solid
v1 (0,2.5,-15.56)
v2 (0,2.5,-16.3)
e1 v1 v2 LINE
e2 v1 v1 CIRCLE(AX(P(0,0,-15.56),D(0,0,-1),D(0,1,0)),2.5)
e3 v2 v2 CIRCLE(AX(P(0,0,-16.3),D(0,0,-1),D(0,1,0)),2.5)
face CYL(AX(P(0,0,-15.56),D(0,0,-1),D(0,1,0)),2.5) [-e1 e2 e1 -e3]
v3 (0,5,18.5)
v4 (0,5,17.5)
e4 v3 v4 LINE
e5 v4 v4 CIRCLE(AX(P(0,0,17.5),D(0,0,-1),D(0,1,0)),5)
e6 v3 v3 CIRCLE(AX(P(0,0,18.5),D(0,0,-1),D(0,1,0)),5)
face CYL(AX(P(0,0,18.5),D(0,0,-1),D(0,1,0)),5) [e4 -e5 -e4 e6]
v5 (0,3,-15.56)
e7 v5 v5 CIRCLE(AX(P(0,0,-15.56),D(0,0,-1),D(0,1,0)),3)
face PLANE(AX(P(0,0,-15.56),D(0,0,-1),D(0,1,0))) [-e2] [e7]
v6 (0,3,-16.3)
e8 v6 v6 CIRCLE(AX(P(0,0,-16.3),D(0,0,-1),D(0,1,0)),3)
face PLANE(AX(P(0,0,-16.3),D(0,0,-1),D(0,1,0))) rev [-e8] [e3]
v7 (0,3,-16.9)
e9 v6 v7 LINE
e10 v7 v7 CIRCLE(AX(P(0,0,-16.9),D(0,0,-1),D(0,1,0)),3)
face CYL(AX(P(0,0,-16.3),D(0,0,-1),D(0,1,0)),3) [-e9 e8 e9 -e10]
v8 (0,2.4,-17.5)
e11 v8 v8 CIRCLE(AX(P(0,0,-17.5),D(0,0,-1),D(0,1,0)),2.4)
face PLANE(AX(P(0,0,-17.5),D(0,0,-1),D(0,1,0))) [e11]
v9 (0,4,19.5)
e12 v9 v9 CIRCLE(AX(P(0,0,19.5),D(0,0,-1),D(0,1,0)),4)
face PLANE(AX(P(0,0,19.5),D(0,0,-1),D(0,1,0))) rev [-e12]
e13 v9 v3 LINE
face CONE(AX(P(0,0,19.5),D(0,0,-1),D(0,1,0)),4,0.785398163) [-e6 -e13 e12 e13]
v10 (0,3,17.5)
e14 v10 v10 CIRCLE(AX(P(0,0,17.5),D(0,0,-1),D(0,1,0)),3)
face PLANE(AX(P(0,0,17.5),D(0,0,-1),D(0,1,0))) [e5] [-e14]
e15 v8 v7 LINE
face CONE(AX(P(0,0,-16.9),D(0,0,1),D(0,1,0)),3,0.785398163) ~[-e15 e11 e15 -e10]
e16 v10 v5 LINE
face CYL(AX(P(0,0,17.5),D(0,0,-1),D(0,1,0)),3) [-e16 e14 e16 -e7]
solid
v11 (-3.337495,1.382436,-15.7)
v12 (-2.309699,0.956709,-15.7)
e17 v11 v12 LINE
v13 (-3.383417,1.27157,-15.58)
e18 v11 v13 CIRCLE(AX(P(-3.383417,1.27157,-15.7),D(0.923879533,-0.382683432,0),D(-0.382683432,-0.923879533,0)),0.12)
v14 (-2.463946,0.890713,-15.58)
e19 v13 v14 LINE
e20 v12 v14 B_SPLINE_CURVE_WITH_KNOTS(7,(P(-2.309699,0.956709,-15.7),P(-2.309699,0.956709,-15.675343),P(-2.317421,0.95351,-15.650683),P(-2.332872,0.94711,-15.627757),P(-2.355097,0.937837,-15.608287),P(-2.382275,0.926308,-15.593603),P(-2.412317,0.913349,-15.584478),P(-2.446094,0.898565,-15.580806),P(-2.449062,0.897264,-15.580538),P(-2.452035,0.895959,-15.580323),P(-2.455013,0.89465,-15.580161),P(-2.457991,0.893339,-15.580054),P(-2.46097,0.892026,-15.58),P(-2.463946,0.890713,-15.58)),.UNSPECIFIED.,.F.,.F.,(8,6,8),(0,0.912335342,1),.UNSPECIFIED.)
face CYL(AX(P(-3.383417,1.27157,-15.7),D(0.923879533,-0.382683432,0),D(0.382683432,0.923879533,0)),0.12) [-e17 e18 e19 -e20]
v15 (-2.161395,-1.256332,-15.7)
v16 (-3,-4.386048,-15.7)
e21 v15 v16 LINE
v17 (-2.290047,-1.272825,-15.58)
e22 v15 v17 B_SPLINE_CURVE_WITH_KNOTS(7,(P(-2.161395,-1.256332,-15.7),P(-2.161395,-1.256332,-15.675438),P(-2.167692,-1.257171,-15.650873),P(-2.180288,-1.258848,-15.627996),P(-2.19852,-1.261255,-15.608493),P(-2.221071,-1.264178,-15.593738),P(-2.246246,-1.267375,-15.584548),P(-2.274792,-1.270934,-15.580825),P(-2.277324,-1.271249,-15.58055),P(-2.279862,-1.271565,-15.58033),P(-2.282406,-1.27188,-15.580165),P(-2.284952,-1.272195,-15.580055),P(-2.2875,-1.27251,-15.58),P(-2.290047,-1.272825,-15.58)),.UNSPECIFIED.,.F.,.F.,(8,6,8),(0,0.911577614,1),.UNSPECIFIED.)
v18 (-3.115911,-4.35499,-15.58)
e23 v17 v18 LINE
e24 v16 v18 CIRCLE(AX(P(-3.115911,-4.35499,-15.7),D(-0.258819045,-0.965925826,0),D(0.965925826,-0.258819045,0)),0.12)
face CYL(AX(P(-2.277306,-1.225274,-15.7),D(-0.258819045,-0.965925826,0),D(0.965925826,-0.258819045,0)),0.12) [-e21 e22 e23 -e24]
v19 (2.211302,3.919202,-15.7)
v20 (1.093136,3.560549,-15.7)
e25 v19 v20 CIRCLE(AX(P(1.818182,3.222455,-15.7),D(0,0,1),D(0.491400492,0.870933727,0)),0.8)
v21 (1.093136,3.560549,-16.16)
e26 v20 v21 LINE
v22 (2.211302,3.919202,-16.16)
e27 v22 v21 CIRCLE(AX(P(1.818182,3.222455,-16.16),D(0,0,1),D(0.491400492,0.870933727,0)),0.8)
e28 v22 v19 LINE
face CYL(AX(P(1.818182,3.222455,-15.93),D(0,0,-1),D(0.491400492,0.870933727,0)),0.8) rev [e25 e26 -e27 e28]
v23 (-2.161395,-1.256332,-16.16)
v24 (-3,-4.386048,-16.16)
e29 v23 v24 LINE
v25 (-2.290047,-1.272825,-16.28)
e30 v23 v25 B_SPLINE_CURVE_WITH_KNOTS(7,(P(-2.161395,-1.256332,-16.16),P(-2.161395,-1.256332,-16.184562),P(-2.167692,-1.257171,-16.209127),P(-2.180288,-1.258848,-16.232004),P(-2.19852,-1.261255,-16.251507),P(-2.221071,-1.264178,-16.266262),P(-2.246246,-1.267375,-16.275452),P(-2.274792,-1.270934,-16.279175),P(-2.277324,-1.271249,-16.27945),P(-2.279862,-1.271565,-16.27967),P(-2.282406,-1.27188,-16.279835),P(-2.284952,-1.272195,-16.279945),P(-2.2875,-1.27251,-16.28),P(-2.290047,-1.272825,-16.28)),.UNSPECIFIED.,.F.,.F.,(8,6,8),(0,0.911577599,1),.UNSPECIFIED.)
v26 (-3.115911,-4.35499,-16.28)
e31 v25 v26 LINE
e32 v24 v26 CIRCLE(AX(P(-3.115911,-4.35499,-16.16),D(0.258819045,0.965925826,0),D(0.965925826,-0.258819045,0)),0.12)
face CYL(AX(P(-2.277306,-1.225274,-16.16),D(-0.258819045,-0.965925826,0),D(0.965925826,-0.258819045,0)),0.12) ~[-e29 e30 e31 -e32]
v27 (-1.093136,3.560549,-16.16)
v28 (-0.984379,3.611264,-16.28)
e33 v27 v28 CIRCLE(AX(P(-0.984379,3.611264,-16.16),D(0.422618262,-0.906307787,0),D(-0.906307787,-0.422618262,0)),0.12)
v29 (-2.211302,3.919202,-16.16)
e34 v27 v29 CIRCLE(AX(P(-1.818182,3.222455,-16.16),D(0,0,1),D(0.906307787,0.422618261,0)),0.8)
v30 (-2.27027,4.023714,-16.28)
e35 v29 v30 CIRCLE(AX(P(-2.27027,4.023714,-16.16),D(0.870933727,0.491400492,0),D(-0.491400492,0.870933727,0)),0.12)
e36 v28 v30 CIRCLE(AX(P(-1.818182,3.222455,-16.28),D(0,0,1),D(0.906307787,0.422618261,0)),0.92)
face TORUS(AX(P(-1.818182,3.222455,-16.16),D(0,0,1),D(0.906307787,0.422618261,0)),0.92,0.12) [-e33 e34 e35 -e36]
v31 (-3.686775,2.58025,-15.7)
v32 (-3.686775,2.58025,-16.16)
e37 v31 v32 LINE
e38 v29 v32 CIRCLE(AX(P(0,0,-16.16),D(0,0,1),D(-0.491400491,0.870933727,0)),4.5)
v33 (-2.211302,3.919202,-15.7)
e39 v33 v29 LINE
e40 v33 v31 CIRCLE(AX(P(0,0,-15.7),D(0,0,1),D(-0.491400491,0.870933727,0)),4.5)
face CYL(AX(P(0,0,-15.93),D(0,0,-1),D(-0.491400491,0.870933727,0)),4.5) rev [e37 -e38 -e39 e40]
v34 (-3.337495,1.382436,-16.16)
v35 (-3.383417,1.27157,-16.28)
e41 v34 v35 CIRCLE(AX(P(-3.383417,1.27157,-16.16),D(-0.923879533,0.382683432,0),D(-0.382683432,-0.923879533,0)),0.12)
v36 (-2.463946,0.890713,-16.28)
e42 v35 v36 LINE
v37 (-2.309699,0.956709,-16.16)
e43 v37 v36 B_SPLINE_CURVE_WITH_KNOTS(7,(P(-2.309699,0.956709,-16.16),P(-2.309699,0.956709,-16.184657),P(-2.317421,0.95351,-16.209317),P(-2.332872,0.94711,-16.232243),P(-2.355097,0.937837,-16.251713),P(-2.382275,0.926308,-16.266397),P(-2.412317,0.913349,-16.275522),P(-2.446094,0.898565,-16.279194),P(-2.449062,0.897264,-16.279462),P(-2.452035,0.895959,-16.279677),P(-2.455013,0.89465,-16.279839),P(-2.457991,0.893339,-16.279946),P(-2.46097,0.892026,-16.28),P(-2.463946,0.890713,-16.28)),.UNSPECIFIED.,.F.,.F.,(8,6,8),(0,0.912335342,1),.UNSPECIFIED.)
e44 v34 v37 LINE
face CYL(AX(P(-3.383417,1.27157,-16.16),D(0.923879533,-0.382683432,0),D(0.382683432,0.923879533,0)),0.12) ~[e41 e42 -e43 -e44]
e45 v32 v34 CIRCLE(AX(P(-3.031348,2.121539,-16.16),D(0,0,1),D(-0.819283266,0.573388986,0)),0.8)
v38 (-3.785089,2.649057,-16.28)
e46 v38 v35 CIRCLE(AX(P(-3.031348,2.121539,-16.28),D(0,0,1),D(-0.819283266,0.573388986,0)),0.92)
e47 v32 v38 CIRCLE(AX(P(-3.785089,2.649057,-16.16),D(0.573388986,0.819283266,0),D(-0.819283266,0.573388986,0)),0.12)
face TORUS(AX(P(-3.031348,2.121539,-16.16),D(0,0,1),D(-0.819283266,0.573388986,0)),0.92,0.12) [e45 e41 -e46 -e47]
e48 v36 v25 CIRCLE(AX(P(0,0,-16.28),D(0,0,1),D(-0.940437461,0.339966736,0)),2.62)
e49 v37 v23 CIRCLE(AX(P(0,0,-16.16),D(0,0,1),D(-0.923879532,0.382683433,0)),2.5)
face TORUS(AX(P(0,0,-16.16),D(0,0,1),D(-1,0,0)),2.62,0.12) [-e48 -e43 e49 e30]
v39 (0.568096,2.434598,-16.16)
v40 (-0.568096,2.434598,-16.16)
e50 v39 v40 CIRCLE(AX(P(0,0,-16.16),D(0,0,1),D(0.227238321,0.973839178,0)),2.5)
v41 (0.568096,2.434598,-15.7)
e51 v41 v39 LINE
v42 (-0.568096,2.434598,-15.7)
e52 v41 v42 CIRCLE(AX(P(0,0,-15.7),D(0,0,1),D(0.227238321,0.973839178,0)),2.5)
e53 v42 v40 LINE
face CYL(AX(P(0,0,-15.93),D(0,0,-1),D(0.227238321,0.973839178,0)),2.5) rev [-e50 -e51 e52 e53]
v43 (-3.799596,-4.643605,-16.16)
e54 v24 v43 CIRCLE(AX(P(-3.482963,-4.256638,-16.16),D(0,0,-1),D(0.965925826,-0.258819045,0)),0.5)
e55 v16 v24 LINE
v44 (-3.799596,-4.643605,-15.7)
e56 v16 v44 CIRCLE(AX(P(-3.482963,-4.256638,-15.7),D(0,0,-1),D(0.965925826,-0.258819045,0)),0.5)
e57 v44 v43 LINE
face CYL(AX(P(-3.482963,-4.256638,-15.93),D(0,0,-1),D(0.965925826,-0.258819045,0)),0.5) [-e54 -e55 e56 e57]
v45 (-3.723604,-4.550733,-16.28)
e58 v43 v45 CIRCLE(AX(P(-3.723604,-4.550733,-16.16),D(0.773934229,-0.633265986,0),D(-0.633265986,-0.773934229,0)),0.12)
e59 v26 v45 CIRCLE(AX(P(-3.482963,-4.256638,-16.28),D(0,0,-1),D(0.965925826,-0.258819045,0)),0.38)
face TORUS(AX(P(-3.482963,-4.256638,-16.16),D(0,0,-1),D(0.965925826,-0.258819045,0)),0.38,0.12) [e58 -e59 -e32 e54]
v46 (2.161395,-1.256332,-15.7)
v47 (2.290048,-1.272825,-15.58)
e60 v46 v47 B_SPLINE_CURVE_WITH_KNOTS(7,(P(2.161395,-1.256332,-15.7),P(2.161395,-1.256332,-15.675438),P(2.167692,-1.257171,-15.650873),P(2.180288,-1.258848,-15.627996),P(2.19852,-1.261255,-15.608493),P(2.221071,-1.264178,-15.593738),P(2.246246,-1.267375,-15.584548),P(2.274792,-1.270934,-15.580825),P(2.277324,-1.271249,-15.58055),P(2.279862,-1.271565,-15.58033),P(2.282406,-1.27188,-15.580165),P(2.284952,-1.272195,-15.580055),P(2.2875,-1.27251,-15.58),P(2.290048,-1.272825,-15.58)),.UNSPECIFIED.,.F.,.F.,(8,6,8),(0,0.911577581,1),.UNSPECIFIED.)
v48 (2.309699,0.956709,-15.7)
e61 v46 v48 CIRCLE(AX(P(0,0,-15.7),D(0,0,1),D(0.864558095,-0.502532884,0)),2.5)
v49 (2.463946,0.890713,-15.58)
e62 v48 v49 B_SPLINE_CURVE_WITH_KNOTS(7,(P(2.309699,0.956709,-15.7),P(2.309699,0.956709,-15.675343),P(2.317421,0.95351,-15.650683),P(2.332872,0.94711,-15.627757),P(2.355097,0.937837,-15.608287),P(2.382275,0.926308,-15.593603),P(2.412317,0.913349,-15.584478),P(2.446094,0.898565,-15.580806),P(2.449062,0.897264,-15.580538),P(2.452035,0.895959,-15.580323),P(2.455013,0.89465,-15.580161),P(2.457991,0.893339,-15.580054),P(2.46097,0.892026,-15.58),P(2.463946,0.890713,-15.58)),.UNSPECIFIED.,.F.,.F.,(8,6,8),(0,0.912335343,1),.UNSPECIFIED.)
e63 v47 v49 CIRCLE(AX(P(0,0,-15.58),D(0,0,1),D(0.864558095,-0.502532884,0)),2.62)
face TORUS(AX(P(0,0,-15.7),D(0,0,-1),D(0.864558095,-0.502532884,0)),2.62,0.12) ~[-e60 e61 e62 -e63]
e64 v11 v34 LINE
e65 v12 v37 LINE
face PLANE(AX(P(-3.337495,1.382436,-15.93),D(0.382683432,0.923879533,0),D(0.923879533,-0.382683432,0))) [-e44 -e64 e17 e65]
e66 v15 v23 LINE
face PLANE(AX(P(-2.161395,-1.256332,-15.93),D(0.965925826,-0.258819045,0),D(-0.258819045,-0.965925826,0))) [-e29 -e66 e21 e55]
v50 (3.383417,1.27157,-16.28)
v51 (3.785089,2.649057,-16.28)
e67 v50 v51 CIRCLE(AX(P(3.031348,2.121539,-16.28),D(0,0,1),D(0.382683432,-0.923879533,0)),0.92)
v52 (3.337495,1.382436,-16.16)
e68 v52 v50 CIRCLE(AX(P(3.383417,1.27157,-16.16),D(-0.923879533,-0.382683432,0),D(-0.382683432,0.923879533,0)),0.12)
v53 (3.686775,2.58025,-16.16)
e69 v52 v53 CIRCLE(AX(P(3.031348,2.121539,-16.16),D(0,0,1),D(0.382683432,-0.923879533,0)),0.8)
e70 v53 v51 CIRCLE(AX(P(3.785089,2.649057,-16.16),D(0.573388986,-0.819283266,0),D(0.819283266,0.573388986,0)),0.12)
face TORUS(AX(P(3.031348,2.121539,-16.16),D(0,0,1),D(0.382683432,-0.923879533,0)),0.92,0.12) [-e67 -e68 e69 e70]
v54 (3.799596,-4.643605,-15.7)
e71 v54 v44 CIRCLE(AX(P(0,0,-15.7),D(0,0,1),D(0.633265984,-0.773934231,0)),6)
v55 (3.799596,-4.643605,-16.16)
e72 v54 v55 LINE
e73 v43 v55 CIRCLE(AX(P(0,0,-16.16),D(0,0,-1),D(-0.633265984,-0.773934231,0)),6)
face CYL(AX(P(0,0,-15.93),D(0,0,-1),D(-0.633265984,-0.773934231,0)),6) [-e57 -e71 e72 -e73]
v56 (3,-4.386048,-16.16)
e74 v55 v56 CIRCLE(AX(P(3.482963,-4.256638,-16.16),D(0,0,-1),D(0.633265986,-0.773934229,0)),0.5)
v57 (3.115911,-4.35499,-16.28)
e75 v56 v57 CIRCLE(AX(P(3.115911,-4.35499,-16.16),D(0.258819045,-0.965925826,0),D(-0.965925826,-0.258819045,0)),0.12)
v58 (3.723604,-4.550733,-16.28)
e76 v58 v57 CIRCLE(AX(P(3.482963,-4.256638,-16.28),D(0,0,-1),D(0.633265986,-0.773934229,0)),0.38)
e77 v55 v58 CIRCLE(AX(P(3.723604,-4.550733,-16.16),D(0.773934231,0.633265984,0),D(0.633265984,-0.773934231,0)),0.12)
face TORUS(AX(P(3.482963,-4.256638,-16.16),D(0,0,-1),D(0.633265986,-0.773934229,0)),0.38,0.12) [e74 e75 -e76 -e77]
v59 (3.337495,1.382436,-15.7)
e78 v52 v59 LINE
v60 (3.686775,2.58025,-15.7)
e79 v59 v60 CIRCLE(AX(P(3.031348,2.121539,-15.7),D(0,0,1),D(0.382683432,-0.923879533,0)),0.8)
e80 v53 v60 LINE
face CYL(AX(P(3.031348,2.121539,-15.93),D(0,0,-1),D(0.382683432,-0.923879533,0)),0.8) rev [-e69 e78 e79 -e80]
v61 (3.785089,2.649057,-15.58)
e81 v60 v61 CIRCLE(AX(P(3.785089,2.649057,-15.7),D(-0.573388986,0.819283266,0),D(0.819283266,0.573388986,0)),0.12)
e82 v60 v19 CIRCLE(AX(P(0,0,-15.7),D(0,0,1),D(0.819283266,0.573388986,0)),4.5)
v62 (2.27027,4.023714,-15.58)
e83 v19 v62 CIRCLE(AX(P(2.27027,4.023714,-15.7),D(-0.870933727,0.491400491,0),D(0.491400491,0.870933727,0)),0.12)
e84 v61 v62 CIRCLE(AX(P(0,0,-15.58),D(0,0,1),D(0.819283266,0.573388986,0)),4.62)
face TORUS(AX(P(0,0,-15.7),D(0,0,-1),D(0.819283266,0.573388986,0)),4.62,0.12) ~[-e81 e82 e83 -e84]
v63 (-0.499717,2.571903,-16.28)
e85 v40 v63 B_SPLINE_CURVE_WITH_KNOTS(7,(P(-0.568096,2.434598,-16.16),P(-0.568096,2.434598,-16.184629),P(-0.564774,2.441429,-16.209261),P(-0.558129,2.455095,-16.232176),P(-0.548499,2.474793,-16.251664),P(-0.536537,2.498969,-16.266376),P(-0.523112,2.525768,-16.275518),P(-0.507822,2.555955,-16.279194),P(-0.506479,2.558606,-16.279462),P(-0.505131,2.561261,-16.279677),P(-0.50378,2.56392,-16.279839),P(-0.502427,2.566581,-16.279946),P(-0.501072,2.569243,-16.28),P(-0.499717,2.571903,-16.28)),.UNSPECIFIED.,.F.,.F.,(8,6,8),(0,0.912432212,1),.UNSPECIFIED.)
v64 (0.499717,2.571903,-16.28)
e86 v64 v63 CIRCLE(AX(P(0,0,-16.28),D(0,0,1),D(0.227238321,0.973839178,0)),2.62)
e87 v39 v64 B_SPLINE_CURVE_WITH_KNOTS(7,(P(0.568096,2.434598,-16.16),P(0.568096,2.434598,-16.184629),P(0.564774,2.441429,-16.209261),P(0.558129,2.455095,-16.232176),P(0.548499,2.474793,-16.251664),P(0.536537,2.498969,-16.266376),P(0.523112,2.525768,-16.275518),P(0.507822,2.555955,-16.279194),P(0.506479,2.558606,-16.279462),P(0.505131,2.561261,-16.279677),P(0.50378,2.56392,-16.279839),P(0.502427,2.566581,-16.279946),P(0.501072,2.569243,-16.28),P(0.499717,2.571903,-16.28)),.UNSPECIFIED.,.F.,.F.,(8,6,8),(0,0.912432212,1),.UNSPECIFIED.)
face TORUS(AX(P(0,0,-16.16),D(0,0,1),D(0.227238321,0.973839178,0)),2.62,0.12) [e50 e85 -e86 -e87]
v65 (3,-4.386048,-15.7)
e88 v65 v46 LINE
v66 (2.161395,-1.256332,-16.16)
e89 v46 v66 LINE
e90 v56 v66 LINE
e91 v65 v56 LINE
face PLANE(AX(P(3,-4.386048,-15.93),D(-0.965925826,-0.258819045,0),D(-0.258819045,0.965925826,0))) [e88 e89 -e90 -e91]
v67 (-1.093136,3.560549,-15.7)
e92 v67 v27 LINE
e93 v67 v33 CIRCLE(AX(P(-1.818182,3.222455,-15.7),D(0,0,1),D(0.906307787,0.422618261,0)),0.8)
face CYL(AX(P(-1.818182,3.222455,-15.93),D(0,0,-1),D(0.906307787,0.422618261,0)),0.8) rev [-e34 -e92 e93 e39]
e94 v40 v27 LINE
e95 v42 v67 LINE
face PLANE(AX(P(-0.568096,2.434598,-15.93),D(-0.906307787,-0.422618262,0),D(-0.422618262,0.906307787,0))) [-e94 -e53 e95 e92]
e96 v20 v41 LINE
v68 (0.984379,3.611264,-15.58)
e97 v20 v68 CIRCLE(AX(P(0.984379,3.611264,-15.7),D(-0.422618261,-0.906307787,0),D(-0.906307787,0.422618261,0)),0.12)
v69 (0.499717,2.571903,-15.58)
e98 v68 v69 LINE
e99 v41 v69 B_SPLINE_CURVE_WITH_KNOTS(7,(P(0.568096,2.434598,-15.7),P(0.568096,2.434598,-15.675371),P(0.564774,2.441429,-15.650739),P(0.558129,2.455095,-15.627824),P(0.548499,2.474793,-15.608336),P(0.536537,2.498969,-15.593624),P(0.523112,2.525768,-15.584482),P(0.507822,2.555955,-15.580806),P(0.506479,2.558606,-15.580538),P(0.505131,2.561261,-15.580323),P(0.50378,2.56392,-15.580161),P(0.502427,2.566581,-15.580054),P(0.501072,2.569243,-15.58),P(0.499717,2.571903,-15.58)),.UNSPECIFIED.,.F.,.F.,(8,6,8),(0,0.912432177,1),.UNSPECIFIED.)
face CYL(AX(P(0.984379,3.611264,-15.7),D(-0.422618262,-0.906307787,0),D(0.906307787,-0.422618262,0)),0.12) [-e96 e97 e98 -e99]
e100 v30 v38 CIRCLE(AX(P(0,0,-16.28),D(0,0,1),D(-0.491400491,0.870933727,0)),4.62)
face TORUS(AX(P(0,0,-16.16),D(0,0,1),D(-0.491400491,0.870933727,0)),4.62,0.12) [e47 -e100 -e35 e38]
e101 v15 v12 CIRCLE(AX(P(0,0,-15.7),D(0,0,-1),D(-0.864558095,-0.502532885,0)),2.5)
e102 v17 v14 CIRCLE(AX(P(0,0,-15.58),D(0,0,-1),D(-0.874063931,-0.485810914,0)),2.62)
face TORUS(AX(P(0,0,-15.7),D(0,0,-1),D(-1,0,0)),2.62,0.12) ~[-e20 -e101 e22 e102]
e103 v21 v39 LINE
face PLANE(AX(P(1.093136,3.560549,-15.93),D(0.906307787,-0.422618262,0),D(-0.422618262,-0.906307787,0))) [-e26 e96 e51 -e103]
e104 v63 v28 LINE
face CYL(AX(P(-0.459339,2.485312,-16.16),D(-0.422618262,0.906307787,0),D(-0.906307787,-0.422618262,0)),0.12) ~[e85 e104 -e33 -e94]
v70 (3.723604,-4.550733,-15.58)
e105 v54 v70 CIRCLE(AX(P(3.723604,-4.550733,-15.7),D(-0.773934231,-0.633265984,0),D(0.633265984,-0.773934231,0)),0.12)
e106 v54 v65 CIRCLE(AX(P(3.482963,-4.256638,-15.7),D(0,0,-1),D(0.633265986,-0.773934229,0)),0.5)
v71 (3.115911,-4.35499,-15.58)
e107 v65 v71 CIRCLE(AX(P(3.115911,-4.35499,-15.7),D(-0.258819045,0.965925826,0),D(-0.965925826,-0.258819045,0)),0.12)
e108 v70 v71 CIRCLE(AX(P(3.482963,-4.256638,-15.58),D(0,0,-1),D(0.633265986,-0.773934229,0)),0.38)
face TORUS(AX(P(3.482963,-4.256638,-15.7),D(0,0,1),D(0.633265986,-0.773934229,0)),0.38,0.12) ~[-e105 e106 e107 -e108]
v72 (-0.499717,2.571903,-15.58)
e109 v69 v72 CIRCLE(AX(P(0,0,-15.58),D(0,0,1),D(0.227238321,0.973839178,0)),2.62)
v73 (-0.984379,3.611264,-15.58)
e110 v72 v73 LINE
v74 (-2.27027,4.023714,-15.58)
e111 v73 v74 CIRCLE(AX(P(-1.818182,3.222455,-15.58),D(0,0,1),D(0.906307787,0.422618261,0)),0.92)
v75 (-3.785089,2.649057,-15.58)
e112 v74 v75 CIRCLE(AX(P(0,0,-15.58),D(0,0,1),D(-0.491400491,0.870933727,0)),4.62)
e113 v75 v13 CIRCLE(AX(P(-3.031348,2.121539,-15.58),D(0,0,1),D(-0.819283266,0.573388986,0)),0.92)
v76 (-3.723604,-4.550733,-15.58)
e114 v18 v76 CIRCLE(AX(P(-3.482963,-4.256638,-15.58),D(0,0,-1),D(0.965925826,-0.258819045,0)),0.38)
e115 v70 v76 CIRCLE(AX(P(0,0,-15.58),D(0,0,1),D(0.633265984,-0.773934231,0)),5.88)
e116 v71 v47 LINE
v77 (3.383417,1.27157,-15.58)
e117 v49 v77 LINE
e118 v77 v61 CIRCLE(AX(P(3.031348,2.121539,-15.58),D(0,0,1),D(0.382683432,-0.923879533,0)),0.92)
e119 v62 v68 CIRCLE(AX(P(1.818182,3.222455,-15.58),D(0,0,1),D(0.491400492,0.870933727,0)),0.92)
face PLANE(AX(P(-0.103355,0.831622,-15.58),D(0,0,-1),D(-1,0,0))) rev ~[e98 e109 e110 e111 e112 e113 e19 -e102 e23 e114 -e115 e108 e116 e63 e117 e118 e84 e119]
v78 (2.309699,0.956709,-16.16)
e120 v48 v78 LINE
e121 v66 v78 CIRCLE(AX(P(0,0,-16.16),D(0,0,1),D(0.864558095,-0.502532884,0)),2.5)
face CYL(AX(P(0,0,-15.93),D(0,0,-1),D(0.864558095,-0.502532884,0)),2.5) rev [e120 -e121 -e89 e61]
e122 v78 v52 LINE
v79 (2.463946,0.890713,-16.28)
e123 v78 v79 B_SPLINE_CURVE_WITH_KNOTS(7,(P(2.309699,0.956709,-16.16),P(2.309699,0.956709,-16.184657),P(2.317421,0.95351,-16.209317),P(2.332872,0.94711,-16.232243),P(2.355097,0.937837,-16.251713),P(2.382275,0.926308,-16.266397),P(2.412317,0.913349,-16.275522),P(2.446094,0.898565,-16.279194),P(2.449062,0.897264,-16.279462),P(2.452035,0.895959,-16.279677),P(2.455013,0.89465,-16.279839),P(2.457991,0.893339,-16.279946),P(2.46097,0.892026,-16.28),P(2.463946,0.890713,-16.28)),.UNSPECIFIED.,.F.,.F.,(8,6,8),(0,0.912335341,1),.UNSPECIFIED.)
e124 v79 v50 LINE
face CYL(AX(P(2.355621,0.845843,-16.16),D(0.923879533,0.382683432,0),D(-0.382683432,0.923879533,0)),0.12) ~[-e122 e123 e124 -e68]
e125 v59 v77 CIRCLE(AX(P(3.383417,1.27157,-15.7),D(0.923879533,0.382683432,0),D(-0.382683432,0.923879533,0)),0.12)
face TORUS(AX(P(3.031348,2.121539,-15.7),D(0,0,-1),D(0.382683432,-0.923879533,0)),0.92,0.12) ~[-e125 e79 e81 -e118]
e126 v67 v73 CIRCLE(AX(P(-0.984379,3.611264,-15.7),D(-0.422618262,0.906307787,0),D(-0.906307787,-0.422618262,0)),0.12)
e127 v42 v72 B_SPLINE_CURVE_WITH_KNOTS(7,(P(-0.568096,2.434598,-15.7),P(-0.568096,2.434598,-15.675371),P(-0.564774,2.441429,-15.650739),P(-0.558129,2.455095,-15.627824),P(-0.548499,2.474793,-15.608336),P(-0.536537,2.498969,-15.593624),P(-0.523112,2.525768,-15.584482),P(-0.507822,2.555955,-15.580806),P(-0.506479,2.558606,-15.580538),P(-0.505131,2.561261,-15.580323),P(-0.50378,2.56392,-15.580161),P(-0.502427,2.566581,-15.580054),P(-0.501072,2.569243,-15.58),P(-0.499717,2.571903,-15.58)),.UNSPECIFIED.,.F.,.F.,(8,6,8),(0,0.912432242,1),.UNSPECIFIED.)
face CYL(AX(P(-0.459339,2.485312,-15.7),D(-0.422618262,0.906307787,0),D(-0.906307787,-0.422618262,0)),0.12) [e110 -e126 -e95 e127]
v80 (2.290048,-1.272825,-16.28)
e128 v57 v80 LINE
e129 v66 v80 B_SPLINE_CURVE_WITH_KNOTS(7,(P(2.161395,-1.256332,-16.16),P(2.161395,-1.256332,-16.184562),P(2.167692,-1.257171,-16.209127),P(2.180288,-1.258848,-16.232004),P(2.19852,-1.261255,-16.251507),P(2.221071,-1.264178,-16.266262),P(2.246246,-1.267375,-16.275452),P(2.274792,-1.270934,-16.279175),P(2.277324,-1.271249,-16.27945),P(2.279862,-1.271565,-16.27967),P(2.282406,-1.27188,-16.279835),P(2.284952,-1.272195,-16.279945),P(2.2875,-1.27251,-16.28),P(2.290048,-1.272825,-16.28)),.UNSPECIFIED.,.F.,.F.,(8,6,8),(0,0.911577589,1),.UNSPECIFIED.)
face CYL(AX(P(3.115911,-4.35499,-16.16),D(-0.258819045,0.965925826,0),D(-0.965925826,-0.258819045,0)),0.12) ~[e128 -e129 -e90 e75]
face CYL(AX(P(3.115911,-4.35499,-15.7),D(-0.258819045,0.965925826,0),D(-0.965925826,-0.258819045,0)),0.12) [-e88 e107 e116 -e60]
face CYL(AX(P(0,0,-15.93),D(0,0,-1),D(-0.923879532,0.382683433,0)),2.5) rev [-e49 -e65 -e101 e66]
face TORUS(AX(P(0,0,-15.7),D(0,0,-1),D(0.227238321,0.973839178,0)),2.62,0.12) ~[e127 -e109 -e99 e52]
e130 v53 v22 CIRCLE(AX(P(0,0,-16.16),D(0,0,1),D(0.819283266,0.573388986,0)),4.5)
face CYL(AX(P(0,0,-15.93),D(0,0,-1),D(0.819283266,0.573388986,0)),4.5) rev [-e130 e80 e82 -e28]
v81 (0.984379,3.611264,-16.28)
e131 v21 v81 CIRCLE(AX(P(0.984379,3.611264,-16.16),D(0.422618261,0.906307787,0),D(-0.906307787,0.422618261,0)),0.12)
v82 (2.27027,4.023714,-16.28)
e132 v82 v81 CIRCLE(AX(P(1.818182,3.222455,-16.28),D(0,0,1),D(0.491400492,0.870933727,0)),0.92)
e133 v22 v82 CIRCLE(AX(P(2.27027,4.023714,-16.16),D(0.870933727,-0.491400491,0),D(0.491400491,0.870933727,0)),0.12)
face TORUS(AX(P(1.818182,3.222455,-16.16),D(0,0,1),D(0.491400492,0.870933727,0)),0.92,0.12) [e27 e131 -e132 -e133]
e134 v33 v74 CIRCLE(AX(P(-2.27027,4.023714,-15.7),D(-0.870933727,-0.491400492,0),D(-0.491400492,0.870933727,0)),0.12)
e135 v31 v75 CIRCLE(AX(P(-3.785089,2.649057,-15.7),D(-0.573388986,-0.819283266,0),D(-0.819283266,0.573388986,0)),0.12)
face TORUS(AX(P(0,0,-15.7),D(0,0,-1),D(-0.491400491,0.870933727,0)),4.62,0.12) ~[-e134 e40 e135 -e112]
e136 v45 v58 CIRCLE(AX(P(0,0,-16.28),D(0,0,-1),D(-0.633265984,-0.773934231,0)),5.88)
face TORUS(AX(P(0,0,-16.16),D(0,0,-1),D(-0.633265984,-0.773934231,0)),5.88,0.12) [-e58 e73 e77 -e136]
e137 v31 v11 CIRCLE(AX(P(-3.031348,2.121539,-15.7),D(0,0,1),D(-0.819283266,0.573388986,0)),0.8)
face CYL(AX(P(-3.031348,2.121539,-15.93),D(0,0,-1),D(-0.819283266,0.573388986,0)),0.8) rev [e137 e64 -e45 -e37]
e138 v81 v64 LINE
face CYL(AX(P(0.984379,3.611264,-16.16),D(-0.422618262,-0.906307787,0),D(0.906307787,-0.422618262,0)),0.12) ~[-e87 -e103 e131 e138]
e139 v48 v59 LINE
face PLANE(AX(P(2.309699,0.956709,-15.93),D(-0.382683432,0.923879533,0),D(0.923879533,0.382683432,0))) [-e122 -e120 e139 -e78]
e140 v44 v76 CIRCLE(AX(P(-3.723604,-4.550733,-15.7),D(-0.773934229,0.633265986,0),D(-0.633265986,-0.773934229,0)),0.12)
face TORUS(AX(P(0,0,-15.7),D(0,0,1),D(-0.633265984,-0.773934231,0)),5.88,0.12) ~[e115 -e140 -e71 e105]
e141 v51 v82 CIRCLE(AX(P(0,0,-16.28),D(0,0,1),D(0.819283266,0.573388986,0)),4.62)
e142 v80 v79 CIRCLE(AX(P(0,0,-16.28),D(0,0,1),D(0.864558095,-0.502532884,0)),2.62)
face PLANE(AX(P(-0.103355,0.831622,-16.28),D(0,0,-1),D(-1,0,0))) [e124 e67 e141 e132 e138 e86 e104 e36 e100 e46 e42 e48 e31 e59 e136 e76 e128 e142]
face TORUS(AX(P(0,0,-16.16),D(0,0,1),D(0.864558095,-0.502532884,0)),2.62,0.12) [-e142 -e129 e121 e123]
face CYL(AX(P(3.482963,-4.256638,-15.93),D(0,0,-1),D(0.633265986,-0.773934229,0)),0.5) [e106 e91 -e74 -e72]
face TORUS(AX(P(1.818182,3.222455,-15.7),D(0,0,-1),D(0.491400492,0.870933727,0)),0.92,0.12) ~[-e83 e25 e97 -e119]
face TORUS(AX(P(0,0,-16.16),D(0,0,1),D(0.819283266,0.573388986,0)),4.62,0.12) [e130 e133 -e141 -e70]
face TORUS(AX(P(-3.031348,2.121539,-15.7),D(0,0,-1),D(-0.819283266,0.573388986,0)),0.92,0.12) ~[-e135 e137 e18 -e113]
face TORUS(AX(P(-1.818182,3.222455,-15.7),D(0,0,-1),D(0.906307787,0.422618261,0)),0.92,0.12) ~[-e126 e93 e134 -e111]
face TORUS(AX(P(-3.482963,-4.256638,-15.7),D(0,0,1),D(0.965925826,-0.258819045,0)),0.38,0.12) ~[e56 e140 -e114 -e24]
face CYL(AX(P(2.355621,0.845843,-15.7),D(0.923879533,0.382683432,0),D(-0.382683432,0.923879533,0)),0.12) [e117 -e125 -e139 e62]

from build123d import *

# Parameters (mm, degrees)
BOSS_EXTRUDE1_DEPTH      = 0.35
BOSS_EXTRUDE1_DEPTH_BACK = 0.35
FILLET1_R                = 0.12
CHAMFER1_SIZE            = 0.6


with BuildPart() as part:
    # Sketch2 → Revolve1 (revolve)
    with BuildSketch(Plane(origin=(0, 0, 0), x_dir=(0, 0, -1), z_dir=(1, 0, 0))):
        Polygon((17.5, 3), (17.5, 0), (-19.5, 0), (-19.5, 4), (-18.5, 5), (-17.5, 5), (-17.5, 3), (15.56, 3), (15.56, 2.5), (16.3, 2.5), (16.3, 3), align=None)
    revolve(axis=Axis((0, 0, 17.5), (0, 0, -1)))

    # Chamfer1
    chamfer1_edges = [part.edges().sort_by_distance(p)[0] for p in [
        (0, -3, -17.5),
    ]]
    chamfer(chamfer1_edges, length=CHAMFER1_SIZE)


with BuildPart() as body_2:
    # Sketch3 → Boss-Extrude1 (new body, two sides)
    with BuildSketch(Plane(origin=(0, 0, -15.93), x_dir=(-1, 0, 0), z_dir=(0, 0, -1))) as boss_extrude1_sk:
        with BuildLine():
            ThreePointArc((-2.211302211, 3.919201772), (-1.573842768, 3.984228004), (-1.093135589, 3.5605494))
            Line((-1.093135589, 3.5605494), (-0.568095803, 2.434597946))
            ThreePointArc((-0.568095803, 2.434597946), (0, 2.5), (0.568095803, 2.434597946))
            Line((0.568095803, 2.434597946), (1.093135589, 3.5605494))
            ThreePointArc((1.093135589, 3.5605494), (1.573842768, 3.984228004), (2.211302211, 3.919201772))
            ThreePointArc((2.211302211, 3.919201772), (3.024074317, 3.332412718), (3.686774698, 2.580250438))
            ThreePointArc((3.686774698, 2.580250438), (3.799362352, 1.89758817), (3.337494831, 1.382435623))
            Line((3.337494831, 1.382435623), (2.309698831, 0.956708581))
            ThreePointArc((2.309698831, 0.956708581), (2.451963201, 0.487725805), (2.5, 0))
            ThreePointArc((2.5, 0), (2.41386496, -0.650581242), (2.161395238, -1.256332211))
            Line((2.161395238, -1.256332211), (3, -4.386047791))
            ThreePointArc((3, -4.386047791), (3.329664547, -4.732558021), (3.799595905, -4.643605383))
            ThreePointArc((3.799595905, -4.643605383), (5.422064894, -2.569282445), (6, 0))
            ThreePointArc((6, 0), (-2.569282445, 5.422064894), (-3.799595905, -4.643605383))
            ThreePointArc((-3.799595905, -4.643605383), (-3.329664547, -4.732558021), (-3, -4.386047791))
            Line((-3, -4.386047791), (-2.161395238, -1.256332211))
            ThreePointArc((-2.161395238, -1.256332211), (-2.494405326, -0.167158813), (-2.309698831, 0.956708581))
            Line((-2.309698831, 0.956708581), (-3.337494831, 1.382435623))
            ThreePointArc((-3.337494831, 1.382435623), (-3.799362352, 1.89758817), (-3.686774698, 2.580250438))
            ThreePointArc((-3.686774698, 2.580250438), (-3.024074317, 3.332412718), (-2.211302211, 3.919201772))
        make_face()
    extrude(amount=BOSS_EXTRUDE1_DEPTH)
    extrude(boss_extrude1_sk.sketch, amount=-BOSS_EXTRUDE1_DEPTH_BACK)

    # Fillet1
    fillet1_edges = [body_2.edges().sort_by_distance(p)[0] for p in [
        (3.329664547, -4.732558021, -16.28),
        (2.580697619, -2.821190001, -16.28),
        (2.494405326, -0.167158813, -16.28),
        (2.823596831, 1.169572102, -16.28),
        (3.799362352, 1.89758817, -16.28),
        (3.024074317, 3.332412718, -16.28),
        (1.573842768, 3.984228004, -16.28),
        (0.830615696, 2.997573673, -16.28),
        (0, 2.5, -16.28),
        (-3.329664547, -4.732558021, -15.58),
        (-2.580697619, -2.821190001, -15.58),
        (-2.823596831, 1.169572102, -15.58),
        (-0.830615696, 2.997573673, -15.58),
        (-3.329664547, -4.732558021, -16.28),
        (-0.830615696, 2.997573673, -16.28),
        (0.830615696, 2.997573673, -15.58),
        (2.823596831, 1.169572102, -15.58),
        (2.580697619, -2.821190001, -15.58),
        (-1.573842768, 3.984228004, -16.28),
        (3.329664547, -4.732558021, -15.58),
        (0, 6, -15.58),
        (-2.494405326, -0.167158813, -15.58),
        (-3.799362352, 1.89758817, -15.58),
        (-3.024074317, 3.332412718, -15.58),
        (-1.573842768, 3.984228004, -15.58),
        (0, 2.5, -15.58),
        (1.573842768, 3.984228004, -15.58),
        (3.024074317, 3.332412718, -15.58),
        (-3.024074317, 3.332412718, -16.28),
        (3.799362352, 1.89758817, -15.58),
        (2.494405326, -0.167158813, -15.58),
        (-3.799362352, 1.89758817, -16.28),
        (-2.823596831, 1.169572102, -16.28),
        (-2.494405326, -0.167158813, -16.28),
        (-2.580697619, -2.821190001, -16.28),
        (0, 6, -16.28),
    ]]
    fillet(fillet1_edges, radius=FILLET1_R)


solid = Compound([part.part, body_2.part])
